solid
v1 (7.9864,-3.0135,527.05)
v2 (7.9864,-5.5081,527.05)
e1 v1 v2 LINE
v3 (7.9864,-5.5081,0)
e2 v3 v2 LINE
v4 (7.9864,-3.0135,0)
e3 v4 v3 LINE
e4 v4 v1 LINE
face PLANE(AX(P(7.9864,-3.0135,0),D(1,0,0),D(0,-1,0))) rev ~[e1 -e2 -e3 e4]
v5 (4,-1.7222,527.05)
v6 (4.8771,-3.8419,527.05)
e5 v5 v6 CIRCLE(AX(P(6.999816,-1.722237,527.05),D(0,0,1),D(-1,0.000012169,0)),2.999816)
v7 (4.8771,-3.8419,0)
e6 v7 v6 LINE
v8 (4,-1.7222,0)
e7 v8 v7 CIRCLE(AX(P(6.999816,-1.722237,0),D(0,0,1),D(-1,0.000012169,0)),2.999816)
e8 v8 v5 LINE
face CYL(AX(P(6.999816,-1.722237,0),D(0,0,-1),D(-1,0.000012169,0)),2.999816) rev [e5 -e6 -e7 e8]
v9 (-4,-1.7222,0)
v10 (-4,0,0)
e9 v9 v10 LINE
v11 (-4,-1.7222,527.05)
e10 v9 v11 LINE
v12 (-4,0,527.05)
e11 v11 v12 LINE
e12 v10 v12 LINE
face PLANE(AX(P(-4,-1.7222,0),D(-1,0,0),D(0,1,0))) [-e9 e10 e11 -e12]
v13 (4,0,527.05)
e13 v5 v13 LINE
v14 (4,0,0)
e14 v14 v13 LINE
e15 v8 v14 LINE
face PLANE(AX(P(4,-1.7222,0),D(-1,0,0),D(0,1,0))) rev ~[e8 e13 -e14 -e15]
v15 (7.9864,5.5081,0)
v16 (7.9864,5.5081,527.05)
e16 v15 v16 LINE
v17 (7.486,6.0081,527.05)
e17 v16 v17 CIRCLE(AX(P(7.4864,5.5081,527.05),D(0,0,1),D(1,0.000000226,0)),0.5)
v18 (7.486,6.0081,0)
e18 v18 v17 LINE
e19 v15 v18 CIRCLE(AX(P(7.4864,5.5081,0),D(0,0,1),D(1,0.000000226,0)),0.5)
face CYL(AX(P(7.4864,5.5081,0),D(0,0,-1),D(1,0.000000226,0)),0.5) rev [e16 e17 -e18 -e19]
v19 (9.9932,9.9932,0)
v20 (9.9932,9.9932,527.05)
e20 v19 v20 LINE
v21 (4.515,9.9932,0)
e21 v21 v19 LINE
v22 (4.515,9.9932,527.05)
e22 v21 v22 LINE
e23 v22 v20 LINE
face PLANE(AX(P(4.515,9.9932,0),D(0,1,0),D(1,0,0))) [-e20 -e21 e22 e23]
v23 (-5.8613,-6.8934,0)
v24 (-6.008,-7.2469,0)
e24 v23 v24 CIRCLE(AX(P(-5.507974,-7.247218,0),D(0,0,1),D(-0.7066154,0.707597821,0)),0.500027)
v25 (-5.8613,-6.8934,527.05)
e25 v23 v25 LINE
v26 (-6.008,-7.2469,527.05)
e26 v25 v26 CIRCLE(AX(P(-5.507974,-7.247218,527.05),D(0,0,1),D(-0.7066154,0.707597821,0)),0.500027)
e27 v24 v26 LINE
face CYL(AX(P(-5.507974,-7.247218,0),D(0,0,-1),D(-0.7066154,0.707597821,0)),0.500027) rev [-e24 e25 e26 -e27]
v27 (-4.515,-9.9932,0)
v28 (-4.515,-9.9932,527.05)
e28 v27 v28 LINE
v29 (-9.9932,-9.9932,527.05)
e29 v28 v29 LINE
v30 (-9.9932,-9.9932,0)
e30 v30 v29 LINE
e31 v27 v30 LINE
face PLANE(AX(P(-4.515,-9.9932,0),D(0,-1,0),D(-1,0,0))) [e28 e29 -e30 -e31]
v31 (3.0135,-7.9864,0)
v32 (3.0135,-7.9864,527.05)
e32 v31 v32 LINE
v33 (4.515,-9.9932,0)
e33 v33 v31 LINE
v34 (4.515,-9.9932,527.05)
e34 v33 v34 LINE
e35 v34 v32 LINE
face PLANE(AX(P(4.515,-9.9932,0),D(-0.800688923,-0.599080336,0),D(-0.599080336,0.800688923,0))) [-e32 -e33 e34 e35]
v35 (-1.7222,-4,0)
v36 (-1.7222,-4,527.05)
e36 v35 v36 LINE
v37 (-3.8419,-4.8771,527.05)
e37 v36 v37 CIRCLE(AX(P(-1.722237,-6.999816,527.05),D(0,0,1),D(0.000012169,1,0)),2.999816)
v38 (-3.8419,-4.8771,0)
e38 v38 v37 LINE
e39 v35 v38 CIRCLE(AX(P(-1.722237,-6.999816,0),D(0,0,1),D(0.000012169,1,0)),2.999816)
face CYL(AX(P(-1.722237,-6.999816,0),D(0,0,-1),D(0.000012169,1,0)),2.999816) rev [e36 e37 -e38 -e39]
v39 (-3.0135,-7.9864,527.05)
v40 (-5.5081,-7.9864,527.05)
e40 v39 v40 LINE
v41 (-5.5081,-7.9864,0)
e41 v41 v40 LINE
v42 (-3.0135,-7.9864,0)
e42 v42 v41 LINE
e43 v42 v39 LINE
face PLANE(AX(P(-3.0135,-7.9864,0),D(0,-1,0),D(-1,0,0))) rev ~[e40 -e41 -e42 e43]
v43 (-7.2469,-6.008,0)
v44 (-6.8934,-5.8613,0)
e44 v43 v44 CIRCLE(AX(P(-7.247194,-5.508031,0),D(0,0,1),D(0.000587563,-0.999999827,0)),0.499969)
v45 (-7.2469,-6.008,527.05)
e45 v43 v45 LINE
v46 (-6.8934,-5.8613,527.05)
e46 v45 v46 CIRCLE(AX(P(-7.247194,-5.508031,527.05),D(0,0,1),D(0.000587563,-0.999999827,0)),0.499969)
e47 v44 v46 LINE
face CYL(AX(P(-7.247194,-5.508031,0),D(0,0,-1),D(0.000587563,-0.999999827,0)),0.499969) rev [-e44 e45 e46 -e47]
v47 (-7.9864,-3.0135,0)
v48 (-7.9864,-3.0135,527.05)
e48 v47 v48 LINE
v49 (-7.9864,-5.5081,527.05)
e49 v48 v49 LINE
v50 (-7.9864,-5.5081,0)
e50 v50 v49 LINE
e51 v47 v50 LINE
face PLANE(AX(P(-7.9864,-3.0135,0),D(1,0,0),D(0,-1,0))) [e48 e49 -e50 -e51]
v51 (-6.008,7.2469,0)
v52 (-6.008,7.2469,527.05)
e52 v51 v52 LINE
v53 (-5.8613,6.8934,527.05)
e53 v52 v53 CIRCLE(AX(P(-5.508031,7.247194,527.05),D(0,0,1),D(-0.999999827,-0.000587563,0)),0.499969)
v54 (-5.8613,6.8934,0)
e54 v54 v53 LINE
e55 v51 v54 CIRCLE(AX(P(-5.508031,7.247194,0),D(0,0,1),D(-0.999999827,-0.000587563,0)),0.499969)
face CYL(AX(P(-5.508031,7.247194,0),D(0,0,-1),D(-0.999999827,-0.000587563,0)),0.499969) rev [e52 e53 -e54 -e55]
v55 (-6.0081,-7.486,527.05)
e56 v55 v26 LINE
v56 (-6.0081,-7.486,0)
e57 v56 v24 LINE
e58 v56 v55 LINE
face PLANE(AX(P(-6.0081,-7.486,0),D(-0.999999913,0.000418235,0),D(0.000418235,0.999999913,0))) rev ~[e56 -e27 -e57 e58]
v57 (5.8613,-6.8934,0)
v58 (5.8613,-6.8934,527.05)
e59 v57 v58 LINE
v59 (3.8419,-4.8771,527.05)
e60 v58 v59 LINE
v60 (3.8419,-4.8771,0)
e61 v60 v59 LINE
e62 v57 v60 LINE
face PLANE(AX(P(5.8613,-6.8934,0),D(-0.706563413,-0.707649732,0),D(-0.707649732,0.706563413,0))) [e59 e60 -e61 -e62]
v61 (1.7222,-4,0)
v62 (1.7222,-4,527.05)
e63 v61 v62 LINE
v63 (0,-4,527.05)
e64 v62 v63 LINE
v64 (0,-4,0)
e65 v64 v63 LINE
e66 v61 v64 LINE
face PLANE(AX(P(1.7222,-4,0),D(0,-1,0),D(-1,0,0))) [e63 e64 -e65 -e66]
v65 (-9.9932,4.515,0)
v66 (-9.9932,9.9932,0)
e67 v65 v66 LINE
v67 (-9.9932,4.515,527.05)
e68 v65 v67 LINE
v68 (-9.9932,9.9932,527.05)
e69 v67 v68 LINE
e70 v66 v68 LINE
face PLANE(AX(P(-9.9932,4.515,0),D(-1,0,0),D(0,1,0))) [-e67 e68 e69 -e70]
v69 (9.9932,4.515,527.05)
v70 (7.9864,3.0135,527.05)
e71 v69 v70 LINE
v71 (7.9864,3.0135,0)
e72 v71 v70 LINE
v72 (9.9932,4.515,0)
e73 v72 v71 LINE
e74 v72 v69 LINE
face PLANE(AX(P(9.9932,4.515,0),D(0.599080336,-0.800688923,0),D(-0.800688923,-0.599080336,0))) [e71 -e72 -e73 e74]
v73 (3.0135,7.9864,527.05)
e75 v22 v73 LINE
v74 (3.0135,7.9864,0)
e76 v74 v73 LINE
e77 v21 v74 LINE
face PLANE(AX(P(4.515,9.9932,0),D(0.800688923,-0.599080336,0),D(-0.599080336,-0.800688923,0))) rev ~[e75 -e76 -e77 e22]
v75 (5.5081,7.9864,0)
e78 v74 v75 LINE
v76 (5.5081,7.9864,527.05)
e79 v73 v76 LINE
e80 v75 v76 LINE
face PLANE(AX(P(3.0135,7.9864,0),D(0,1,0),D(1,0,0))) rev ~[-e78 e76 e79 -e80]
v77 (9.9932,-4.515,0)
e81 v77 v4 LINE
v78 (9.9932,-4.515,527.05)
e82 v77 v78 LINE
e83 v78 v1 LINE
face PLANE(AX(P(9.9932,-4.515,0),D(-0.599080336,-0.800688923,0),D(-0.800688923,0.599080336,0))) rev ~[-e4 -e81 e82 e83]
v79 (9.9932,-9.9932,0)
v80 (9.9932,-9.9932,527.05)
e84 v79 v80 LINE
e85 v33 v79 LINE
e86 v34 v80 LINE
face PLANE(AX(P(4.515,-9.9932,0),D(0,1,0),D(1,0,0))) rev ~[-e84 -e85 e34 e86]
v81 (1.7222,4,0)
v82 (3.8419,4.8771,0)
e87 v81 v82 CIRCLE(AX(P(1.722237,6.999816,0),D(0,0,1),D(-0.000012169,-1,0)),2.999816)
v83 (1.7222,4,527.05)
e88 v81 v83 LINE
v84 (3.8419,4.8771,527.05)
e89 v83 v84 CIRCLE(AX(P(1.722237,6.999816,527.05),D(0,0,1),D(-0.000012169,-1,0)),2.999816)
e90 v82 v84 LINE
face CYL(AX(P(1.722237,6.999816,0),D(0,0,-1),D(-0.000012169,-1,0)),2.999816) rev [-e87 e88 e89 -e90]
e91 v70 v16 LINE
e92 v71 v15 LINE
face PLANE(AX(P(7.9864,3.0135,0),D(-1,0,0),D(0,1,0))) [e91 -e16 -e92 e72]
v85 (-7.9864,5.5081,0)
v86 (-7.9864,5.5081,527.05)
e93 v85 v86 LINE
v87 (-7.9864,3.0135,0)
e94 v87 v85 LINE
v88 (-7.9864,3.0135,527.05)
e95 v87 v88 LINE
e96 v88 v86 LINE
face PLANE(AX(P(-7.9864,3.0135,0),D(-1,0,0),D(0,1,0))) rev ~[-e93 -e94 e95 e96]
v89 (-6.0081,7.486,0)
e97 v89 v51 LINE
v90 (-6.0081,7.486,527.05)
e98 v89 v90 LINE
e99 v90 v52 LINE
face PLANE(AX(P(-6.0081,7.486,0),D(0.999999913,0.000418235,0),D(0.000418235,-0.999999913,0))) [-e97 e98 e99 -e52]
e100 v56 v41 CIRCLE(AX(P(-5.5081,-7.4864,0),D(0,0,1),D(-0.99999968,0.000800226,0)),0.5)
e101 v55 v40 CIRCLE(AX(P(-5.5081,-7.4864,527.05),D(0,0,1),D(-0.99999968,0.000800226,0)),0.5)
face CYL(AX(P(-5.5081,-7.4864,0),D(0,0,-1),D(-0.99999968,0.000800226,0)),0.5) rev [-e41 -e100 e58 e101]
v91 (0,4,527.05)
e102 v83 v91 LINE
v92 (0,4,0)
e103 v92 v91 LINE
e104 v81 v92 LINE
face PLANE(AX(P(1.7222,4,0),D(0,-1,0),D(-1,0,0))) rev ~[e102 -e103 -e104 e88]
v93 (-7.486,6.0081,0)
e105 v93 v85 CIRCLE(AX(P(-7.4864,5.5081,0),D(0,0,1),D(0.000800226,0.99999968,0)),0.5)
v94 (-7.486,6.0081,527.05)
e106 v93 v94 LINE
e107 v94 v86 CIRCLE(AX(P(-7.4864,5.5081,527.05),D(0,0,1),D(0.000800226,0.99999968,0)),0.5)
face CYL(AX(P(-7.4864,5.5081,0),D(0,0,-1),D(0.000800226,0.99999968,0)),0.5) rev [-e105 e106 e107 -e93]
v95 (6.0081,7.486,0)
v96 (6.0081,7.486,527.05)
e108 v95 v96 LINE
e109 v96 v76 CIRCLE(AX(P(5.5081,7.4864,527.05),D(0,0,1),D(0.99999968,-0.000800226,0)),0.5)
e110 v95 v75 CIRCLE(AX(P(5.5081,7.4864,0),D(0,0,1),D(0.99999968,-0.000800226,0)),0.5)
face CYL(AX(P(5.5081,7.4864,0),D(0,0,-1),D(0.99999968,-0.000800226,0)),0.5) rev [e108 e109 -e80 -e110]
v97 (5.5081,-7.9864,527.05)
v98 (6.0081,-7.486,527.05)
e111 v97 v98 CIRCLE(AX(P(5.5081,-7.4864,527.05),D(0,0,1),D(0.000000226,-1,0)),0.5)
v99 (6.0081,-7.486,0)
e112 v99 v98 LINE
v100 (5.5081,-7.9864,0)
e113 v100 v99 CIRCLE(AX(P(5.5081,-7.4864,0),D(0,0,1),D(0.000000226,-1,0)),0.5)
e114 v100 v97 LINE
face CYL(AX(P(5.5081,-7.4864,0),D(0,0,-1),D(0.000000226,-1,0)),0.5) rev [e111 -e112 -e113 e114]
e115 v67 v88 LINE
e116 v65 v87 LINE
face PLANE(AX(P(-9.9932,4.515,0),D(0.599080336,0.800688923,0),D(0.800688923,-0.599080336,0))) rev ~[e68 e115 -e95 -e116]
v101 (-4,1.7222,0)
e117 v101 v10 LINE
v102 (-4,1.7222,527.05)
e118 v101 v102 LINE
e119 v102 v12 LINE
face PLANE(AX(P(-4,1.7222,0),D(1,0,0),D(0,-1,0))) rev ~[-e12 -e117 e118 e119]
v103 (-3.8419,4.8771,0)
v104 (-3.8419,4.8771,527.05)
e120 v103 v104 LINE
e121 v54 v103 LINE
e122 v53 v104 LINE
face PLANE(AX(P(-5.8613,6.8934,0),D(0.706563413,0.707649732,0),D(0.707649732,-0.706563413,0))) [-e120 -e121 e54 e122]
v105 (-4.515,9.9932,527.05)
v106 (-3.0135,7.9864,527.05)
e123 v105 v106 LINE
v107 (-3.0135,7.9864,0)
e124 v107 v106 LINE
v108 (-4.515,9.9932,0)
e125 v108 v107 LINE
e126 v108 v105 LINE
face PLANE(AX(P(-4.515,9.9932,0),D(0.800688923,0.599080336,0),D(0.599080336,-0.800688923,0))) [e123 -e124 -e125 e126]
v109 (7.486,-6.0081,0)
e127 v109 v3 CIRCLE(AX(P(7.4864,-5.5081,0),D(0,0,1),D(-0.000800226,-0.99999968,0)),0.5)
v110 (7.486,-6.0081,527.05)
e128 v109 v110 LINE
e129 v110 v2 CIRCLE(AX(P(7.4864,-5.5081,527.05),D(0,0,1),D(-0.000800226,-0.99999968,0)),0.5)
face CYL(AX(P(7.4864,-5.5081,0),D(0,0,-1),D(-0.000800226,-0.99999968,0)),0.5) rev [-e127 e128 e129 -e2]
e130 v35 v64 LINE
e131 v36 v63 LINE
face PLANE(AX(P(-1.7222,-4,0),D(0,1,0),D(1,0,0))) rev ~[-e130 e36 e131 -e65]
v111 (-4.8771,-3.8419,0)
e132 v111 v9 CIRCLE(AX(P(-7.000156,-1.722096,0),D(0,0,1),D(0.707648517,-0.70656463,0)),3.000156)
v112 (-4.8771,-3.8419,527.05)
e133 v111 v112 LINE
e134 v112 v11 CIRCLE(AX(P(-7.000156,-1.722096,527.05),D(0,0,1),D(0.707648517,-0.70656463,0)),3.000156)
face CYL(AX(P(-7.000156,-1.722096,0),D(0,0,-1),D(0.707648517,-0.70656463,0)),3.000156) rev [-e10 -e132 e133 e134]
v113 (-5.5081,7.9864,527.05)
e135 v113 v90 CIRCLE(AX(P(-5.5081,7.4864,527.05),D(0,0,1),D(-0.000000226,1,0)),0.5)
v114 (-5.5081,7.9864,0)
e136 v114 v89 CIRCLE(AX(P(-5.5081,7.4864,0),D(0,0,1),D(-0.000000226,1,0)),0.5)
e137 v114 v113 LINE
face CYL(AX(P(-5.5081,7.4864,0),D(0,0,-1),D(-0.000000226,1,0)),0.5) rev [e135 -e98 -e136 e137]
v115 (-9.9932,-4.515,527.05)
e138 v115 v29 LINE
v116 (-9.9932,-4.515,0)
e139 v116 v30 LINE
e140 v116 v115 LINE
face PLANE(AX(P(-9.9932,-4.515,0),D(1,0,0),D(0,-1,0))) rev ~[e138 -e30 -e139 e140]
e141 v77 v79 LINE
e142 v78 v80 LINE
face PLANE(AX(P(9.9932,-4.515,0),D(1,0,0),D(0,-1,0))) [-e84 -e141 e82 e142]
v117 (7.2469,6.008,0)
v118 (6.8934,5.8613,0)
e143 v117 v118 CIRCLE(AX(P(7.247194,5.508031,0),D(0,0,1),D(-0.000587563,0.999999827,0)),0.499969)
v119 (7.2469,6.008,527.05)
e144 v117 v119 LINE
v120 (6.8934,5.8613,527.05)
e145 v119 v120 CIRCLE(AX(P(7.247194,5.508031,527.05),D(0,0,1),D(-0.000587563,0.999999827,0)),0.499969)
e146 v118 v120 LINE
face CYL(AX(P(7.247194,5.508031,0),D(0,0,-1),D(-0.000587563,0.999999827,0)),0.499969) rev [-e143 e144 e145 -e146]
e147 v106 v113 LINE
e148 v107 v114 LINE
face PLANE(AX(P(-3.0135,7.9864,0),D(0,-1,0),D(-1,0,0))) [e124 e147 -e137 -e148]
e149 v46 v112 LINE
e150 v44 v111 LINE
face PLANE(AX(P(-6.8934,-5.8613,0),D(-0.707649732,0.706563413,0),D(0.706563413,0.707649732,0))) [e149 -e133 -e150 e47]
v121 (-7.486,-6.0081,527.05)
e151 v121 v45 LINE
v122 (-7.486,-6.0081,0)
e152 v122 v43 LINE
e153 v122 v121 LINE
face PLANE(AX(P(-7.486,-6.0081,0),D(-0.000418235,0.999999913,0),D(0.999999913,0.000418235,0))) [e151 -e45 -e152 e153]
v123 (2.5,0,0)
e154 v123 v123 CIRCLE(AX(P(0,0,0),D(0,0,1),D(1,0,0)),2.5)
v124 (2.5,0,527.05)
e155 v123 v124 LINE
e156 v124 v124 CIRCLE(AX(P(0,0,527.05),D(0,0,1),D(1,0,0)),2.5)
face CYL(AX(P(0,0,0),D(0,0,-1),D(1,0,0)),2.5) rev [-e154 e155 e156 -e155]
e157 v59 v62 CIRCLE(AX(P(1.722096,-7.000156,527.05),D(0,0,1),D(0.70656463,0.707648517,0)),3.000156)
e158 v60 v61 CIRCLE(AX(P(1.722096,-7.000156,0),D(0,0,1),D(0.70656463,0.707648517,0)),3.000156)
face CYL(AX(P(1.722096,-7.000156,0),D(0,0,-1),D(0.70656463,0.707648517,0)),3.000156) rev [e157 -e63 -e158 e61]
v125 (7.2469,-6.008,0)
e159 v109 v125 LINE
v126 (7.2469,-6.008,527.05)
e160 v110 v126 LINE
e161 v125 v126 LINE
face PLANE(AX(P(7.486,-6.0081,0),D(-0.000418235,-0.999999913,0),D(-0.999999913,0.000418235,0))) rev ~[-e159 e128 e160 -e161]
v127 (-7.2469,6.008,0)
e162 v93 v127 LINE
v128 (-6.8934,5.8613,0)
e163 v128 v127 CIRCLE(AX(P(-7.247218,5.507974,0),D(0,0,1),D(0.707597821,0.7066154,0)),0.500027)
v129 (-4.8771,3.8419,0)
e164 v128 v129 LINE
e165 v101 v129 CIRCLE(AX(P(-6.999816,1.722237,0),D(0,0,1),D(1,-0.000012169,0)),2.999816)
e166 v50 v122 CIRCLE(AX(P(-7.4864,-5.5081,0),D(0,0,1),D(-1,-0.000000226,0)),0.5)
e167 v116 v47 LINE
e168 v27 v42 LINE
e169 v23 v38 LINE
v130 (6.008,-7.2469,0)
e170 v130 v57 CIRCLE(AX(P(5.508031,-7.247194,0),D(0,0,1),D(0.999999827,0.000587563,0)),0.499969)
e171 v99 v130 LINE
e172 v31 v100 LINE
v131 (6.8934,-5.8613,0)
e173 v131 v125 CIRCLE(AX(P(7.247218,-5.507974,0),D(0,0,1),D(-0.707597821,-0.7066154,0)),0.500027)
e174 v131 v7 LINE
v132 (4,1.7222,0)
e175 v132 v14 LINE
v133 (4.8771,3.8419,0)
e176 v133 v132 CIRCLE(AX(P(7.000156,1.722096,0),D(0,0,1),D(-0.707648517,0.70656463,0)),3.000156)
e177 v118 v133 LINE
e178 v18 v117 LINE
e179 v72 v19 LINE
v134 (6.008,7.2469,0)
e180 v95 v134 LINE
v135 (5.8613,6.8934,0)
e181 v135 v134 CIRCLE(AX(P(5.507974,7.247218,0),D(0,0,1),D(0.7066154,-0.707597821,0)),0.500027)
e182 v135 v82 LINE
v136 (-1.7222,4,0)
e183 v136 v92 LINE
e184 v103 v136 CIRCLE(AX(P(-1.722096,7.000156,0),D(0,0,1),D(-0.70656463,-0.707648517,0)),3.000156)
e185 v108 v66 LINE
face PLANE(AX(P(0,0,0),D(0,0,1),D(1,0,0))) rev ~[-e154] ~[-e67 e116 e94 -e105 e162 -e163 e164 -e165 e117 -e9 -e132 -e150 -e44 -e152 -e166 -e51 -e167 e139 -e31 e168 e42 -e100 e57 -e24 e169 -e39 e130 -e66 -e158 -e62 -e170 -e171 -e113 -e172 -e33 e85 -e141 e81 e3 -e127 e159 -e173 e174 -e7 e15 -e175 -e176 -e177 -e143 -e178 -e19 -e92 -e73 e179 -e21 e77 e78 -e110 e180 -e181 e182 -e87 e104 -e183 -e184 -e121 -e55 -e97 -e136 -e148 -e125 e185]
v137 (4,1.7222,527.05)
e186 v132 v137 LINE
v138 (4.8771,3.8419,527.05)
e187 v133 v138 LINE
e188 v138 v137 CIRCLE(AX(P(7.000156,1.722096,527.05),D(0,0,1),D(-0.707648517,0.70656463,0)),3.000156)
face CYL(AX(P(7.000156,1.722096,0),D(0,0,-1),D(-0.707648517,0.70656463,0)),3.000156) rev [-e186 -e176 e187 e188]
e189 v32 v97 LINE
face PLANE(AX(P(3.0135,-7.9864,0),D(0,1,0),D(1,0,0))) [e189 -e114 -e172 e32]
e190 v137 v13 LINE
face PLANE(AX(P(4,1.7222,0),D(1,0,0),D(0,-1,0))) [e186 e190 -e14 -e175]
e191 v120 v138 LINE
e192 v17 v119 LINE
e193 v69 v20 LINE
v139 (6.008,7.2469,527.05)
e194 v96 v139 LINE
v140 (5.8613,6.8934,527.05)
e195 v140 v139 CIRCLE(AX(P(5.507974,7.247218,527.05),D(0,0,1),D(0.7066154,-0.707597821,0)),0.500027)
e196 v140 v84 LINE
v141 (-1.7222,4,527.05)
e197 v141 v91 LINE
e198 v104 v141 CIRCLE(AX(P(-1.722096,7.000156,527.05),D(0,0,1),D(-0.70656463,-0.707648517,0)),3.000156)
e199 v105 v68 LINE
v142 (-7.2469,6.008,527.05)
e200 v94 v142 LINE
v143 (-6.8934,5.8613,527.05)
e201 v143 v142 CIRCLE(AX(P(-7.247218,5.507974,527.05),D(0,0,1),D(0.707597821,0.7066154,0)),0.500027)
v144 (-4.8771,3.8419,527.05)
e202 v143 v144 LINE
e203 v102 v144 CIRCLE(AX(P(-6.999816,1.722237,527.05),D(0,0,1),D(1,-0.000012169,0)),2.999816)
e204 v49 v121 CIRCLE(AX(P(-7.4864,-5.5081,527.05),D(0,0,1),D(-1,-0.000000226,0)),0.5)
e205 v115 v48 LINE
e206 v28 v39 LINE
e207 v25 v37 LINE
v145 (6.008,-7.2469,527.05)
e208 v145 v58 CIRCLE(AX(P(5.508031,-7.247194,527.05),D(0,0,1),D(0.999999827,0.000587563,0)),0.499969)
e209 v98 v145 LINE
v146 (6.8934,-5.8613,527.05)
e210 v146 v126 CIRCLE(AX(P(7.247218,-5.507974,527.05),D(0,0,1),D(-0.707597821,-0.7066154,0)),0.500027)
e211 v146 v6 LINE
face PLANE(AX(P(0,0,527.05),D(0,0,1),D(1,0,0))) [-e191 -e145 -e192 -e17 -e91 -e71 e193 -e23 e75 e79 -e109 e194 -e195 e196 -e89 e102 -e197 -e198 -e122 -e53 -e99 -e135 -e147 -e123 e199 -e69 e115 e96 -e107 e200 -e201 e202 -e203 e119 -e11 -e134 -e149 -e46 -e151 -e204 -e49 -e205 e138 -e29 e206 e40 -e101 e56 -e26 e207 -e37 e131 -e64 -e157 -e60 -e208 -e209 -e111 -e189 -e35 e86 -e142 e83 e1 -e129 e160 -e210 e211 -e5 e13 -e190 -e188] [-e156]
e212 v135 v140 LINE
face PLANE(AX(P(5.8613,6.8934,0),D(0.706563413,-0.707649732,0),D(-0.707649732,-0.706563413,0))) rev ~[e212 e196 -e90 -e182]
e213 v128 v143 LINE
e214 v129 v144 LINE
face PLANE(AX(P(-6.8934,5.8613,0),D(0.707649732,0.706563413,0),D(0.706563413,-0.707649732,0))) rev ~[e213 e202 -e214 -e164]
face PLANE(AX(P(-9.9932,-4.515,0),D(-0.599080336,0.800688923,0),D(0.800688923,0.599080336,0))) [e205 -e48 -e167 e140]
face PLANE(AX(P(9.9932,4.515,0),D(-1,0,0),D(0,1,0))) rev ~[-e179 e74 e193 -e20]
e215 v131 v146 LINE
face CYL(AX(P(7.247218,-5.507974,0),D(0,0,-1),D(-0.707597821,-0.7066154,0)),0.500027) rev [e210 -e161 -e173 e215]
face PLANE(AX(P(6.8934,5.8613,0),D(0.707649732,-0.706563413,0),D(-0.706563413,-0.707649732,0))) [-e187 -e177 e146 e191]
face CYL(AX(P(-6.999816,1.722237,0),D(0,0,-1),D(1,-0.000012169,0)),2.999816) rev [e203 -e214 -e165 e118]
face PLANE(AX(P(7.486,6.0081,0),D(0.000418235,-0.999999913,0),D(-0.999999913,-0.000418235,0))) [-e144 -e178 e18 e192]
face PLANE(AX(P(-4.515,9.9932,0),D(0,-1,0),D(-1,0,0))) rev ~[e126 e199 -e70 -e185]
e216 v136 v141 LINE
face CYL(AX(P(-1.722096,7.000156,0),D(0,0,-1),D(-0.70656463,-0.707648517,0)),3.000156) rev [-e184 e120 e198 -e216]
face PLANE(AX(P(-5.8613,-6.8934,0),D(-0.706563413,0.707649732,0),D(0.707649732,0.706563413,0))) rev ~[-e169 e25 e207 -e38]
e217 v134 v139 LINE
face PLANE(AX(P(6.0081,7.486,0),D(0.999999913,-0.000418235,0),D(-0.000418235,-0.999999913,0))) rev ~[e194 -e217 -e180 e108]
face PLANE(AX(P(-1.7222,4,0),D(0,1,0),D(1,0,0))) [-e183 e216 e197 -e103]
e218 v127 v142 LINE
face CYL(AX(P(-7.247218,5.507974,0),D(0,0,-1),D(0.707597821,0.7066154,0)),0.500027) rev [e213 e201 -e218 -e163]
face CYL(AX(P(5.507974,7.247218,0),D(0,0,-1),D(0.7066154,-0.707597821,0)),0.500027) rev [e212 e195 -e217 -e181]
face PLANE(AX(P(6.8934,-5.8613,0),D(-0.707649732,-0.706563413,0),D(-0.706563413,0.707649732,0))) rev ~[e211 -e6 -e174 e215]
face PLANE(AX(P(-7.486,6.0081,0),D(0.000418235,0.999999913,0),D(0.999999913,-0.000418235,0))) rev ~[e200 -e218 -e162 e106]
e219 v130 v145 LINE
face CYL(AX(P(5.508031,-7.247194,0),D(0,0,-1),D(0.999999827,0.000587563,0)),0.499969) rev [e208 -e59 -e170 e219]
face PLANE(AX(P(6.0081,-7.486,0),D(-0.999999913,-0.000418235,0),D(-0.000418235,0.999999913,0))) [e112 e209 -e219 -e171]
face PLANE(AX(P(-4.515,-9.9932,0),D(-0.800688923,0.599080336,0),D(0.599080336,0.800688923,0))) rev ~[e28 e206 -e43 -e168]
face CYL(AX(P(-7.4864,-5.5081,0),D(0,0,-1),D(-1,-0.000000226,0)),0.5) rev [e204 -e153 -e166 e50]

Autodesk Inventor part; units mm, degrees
ref_plane "YZ Plane" through (0, 0, 0) normal (1, 0, 0) x (0, 1, 0)
ref_plane "XZ Plane" through (0, 0, 0) normal (0, 1, 0) x (-1, 0, 0)
ref_plane "XY Plane" through (0, 0, 0) normal (0, 0, 1) x (1, 0, 0)
sketch "Sketch1" plane through (0, 0, 0) normal (0, 0, 1) x (1, 0, 0)
  circle A0 centre (0, 0) radius 2.5
  line L0 (-9.9932, 4.515) -> (-7.9864, 3.0135)
  line L1 (-7.486, 6.0081) -> (-7.2469, 6.008)
  line L2 (-6.8934, 5.8613) -> (-4.8771, 3.8419)
  arc A1 (-6.8934, 5.8613) -> (-7.2469, 6.008) centre (-7.2472, 5.508) ccw
  circle A2 centre (0, 0) radius 2.5
  line L3 (-9.9932, 4.515) -> (-9.9932, 9.9932)
  line L4 (-7.9864, 3.0135) -> (-7.9864, 5.5081)
  arc A3 (-7.486, 6.0081) -> (-7.9864, 5.5081) centre (-7.4864, 5.5081) ccw
  line L5 (-4, 1.7222) -> (-4, 0)
  line L6 (-9.9932, -4.515) -> (-7.9864, -3.0135)
  line L7 (-6.8934, -5.8613) -> (-4.8771, -3.8419)
  arc A4 (-7.2469, -6.008) -> (-6.8934, -5.8613) centre (-7.2472, -5.508) ccw
  line L8 (-7.486, -6.0081) -> (-7.2469, -6.008)
  line L9 (-9.9932, -4.515) -> (-9.9932, -9.9932)
  line L10 (-7.9864, -3.0135) -> (-7.9864, -5.5081)
  arc A5 (-7.9864, -5.5081) -> (-7.486, -6.0081) centre (-7.4864, -5.5081) ccw
  line L11 (-4, -1.7222) -> (-4, 0)
  line L12 (9.9932, 4.515) -> (7.9864, 3.0135)
  line L13 (6.8934, 5.8613) -> (4.8771, 3.8419)
  arc A6 (7.2469, 6.008) -> (6.8934, 5.8613) centre (7.2472, 5.508) ccw
  line L14 (7.486, 6.0081) -> (7.2469, 6.008)
  line L15 (9.9932, 4.515) -> (9.9932, 9.9932)
  line L16 (7.9864, 3.0135) -> (7.9864, 5.5081)
  arc A7 (7.9864, 5.5081) -> (7.486, 6.0081) centre (7.4864, 5.5081) ccw
  line L17 (4, 1.7222) -> (4, 0)
  line L18 (9.9932, -4.515) -> (7.9864, -3.0135)
  line L19 (6.8934, -5.8613) -> (4.8771, -3.8419)
  arc A8 (6.8934, -5.8613) -> (7.2469, -6.008) centre (7.2472, -5.508) ccw
  line L20 (7.486, -6.0081) -> (7.2469, -6.008)
  line L21 (9.9932, -4.515) -> (9.9932, -9.9932)
  line L22 (7.9864, -3.0135) -> (7.9864, -5.5081)
  arc A9 (7.486, -6.0081) -> (7.9864, -5.5081) centre (7.4864, -5.5081) ccw
  line L23 (4, -1.7222) -> (4, 0)
  circle A10 centre (0, 0) radius 2.5
  line L24 (-4.515, -9.9932) -> (-3.0135, -7.9864)
  line L25 (-5.8613, -6.8934) -> (-3.8419, -4.8771)
  arc A11 (-5.8613, -6.8934) -> (-6.008, -7.2469) centre (-5.508, -7.2472) ccw
  line L26 (-6.0081, -7.486) -> (-6.008, -7.2469)
  circle A12 centre (0, 0) radius 2.5
  line L27 (-4.515, -9.9932) -> (-9.9932, -9.9932)
  line L28 (-3.0135, -7.9864) -> (-5.5081, -7.9864)
  arc A13 (-6.0081, -7.486) -> (-5.5081, -7.9864) centre (-5.5081, -7.4864) ccw
  line L29 (-1.7222, -4) -> (0, -4)
  line L30 (4.515, -9.9932) -> (3.0135, -7.9864)
  line L31 (5.8613, -6.8934) -> (3.8419, -4.8771)
  arc A14 (6.008, -7.2469) -> (5.8613, -6.8934) centre (5.508, -7.2472) ccw
  line L32 (6.0081, -7.486) -> (6.008, -7.2469)
  line L33 (4.515, -9.9932) -> (9.9932, -9.9932)
  line L34 (3.0135, -7.9864) -> (5.5081, -7.9864)
  arc A15 (5.5081, -7.9864) -> (6.0081, -7.486) centre (5.5081, -7.4864) ccw
  line L35 (1.7222, -4) -> (0, -4)
  line L36 (-1.7222, 4) -> (0, 4)
  line L37 (1.7222, 4) -> (0, 4)
  line L38 (5.8613, 6.8934) -> (3.8419, 4.8771)
  arc A16 (5.8613, 6.8934) -> (6.008, 7.2469) centre (5.508, 7.2472) ccw
  line L39 (6.0081, 7.486) -> (6.008, 7.2469)
  line L40 (3.0135, 7.9864) -> (5.5081, 7.9864)
  arc A17 (6.0081, 7.486) -> (5.5081, 7.9864) centre (5.5081, 7.4864) ccw
  line L41 (4.515, 9.9932) -> (3.0135, 7.9864)
  line L42 (4.515, 9.9932) -> (9.9932, 9.9932)
  line L43 (-5.8613, 6.8934) -> (-3.8419, 4.8771)
  arc A18 (-6.008, 7.2469) -> (-5.8613, 6.8934) centre (-5.508, 7.2472) ccw
  line L44 (-6.0081, 7.486) -> (-6.008, 7.2469)
  line L45 (-3.0135, 7.9864) -> (-5.5081, 7.9864)
  arc A19 (-5.5081, 7.9864) -> (-6.0081, 7.486) centre (-5.5081, 7.4864) ccw
  line L46 (-4.515, 9.9932) -> (-3.0135, 7.9864)
  line L47 (-4.515, 9.9932) -> (-9.9932, 9.9932)
  arc A20 (1.7222, 4) -> (3.8419, 4.8771) centre (1.7222, 7) ccw
  arc A21 (-3.8419, 4.8771) -> (-1.7222, 4) centre (-1.7222, 7) ccw
  arc A22 (-4, 1.7222) -> (-4.8771, 3.8419) centre (-7, 1.7222) ccw
  arc A23 (-4.8771, -3.8419) -> (-4, -1.7222) centre (-7, -1.7222) ccw
  arc A24 (-1.7222, -4) -> (-3.8419, -4.8771) centre (-1.7222, -7) ccw
  arc A25 (3.8419, -4.8771) -> (1.7222, -4) centre (1.7222, -7) ccw
  arc A26 (4, -1.7222) -> (4.8771, -3.8419) centre (7, -1.7222) ccw
  arc A27 (4.8771, 3.8419) -> (4, 1.7222) centre (7, 1.7222) ccw
  point P0 (-7.9864, 6.0085)
  point P1 (-7.9864, -6.0085)
  point P2 (7.9864, 6.0085)
  point P3 (7.9864, -6.0085)
  point P4 (-6.0085, -7.9864)
  point P5 (6.0085, -7.9864)
  point P6 (6.0085, 7.9864)
  point P7 (-6.0085, 7.9864)
extrude "Extrusion9" add sketch "Sketch1" along normal blind 527.05
properties part number "20mm_V-Rail_Extrusion Template" material "6105-T5 Aluminum"
